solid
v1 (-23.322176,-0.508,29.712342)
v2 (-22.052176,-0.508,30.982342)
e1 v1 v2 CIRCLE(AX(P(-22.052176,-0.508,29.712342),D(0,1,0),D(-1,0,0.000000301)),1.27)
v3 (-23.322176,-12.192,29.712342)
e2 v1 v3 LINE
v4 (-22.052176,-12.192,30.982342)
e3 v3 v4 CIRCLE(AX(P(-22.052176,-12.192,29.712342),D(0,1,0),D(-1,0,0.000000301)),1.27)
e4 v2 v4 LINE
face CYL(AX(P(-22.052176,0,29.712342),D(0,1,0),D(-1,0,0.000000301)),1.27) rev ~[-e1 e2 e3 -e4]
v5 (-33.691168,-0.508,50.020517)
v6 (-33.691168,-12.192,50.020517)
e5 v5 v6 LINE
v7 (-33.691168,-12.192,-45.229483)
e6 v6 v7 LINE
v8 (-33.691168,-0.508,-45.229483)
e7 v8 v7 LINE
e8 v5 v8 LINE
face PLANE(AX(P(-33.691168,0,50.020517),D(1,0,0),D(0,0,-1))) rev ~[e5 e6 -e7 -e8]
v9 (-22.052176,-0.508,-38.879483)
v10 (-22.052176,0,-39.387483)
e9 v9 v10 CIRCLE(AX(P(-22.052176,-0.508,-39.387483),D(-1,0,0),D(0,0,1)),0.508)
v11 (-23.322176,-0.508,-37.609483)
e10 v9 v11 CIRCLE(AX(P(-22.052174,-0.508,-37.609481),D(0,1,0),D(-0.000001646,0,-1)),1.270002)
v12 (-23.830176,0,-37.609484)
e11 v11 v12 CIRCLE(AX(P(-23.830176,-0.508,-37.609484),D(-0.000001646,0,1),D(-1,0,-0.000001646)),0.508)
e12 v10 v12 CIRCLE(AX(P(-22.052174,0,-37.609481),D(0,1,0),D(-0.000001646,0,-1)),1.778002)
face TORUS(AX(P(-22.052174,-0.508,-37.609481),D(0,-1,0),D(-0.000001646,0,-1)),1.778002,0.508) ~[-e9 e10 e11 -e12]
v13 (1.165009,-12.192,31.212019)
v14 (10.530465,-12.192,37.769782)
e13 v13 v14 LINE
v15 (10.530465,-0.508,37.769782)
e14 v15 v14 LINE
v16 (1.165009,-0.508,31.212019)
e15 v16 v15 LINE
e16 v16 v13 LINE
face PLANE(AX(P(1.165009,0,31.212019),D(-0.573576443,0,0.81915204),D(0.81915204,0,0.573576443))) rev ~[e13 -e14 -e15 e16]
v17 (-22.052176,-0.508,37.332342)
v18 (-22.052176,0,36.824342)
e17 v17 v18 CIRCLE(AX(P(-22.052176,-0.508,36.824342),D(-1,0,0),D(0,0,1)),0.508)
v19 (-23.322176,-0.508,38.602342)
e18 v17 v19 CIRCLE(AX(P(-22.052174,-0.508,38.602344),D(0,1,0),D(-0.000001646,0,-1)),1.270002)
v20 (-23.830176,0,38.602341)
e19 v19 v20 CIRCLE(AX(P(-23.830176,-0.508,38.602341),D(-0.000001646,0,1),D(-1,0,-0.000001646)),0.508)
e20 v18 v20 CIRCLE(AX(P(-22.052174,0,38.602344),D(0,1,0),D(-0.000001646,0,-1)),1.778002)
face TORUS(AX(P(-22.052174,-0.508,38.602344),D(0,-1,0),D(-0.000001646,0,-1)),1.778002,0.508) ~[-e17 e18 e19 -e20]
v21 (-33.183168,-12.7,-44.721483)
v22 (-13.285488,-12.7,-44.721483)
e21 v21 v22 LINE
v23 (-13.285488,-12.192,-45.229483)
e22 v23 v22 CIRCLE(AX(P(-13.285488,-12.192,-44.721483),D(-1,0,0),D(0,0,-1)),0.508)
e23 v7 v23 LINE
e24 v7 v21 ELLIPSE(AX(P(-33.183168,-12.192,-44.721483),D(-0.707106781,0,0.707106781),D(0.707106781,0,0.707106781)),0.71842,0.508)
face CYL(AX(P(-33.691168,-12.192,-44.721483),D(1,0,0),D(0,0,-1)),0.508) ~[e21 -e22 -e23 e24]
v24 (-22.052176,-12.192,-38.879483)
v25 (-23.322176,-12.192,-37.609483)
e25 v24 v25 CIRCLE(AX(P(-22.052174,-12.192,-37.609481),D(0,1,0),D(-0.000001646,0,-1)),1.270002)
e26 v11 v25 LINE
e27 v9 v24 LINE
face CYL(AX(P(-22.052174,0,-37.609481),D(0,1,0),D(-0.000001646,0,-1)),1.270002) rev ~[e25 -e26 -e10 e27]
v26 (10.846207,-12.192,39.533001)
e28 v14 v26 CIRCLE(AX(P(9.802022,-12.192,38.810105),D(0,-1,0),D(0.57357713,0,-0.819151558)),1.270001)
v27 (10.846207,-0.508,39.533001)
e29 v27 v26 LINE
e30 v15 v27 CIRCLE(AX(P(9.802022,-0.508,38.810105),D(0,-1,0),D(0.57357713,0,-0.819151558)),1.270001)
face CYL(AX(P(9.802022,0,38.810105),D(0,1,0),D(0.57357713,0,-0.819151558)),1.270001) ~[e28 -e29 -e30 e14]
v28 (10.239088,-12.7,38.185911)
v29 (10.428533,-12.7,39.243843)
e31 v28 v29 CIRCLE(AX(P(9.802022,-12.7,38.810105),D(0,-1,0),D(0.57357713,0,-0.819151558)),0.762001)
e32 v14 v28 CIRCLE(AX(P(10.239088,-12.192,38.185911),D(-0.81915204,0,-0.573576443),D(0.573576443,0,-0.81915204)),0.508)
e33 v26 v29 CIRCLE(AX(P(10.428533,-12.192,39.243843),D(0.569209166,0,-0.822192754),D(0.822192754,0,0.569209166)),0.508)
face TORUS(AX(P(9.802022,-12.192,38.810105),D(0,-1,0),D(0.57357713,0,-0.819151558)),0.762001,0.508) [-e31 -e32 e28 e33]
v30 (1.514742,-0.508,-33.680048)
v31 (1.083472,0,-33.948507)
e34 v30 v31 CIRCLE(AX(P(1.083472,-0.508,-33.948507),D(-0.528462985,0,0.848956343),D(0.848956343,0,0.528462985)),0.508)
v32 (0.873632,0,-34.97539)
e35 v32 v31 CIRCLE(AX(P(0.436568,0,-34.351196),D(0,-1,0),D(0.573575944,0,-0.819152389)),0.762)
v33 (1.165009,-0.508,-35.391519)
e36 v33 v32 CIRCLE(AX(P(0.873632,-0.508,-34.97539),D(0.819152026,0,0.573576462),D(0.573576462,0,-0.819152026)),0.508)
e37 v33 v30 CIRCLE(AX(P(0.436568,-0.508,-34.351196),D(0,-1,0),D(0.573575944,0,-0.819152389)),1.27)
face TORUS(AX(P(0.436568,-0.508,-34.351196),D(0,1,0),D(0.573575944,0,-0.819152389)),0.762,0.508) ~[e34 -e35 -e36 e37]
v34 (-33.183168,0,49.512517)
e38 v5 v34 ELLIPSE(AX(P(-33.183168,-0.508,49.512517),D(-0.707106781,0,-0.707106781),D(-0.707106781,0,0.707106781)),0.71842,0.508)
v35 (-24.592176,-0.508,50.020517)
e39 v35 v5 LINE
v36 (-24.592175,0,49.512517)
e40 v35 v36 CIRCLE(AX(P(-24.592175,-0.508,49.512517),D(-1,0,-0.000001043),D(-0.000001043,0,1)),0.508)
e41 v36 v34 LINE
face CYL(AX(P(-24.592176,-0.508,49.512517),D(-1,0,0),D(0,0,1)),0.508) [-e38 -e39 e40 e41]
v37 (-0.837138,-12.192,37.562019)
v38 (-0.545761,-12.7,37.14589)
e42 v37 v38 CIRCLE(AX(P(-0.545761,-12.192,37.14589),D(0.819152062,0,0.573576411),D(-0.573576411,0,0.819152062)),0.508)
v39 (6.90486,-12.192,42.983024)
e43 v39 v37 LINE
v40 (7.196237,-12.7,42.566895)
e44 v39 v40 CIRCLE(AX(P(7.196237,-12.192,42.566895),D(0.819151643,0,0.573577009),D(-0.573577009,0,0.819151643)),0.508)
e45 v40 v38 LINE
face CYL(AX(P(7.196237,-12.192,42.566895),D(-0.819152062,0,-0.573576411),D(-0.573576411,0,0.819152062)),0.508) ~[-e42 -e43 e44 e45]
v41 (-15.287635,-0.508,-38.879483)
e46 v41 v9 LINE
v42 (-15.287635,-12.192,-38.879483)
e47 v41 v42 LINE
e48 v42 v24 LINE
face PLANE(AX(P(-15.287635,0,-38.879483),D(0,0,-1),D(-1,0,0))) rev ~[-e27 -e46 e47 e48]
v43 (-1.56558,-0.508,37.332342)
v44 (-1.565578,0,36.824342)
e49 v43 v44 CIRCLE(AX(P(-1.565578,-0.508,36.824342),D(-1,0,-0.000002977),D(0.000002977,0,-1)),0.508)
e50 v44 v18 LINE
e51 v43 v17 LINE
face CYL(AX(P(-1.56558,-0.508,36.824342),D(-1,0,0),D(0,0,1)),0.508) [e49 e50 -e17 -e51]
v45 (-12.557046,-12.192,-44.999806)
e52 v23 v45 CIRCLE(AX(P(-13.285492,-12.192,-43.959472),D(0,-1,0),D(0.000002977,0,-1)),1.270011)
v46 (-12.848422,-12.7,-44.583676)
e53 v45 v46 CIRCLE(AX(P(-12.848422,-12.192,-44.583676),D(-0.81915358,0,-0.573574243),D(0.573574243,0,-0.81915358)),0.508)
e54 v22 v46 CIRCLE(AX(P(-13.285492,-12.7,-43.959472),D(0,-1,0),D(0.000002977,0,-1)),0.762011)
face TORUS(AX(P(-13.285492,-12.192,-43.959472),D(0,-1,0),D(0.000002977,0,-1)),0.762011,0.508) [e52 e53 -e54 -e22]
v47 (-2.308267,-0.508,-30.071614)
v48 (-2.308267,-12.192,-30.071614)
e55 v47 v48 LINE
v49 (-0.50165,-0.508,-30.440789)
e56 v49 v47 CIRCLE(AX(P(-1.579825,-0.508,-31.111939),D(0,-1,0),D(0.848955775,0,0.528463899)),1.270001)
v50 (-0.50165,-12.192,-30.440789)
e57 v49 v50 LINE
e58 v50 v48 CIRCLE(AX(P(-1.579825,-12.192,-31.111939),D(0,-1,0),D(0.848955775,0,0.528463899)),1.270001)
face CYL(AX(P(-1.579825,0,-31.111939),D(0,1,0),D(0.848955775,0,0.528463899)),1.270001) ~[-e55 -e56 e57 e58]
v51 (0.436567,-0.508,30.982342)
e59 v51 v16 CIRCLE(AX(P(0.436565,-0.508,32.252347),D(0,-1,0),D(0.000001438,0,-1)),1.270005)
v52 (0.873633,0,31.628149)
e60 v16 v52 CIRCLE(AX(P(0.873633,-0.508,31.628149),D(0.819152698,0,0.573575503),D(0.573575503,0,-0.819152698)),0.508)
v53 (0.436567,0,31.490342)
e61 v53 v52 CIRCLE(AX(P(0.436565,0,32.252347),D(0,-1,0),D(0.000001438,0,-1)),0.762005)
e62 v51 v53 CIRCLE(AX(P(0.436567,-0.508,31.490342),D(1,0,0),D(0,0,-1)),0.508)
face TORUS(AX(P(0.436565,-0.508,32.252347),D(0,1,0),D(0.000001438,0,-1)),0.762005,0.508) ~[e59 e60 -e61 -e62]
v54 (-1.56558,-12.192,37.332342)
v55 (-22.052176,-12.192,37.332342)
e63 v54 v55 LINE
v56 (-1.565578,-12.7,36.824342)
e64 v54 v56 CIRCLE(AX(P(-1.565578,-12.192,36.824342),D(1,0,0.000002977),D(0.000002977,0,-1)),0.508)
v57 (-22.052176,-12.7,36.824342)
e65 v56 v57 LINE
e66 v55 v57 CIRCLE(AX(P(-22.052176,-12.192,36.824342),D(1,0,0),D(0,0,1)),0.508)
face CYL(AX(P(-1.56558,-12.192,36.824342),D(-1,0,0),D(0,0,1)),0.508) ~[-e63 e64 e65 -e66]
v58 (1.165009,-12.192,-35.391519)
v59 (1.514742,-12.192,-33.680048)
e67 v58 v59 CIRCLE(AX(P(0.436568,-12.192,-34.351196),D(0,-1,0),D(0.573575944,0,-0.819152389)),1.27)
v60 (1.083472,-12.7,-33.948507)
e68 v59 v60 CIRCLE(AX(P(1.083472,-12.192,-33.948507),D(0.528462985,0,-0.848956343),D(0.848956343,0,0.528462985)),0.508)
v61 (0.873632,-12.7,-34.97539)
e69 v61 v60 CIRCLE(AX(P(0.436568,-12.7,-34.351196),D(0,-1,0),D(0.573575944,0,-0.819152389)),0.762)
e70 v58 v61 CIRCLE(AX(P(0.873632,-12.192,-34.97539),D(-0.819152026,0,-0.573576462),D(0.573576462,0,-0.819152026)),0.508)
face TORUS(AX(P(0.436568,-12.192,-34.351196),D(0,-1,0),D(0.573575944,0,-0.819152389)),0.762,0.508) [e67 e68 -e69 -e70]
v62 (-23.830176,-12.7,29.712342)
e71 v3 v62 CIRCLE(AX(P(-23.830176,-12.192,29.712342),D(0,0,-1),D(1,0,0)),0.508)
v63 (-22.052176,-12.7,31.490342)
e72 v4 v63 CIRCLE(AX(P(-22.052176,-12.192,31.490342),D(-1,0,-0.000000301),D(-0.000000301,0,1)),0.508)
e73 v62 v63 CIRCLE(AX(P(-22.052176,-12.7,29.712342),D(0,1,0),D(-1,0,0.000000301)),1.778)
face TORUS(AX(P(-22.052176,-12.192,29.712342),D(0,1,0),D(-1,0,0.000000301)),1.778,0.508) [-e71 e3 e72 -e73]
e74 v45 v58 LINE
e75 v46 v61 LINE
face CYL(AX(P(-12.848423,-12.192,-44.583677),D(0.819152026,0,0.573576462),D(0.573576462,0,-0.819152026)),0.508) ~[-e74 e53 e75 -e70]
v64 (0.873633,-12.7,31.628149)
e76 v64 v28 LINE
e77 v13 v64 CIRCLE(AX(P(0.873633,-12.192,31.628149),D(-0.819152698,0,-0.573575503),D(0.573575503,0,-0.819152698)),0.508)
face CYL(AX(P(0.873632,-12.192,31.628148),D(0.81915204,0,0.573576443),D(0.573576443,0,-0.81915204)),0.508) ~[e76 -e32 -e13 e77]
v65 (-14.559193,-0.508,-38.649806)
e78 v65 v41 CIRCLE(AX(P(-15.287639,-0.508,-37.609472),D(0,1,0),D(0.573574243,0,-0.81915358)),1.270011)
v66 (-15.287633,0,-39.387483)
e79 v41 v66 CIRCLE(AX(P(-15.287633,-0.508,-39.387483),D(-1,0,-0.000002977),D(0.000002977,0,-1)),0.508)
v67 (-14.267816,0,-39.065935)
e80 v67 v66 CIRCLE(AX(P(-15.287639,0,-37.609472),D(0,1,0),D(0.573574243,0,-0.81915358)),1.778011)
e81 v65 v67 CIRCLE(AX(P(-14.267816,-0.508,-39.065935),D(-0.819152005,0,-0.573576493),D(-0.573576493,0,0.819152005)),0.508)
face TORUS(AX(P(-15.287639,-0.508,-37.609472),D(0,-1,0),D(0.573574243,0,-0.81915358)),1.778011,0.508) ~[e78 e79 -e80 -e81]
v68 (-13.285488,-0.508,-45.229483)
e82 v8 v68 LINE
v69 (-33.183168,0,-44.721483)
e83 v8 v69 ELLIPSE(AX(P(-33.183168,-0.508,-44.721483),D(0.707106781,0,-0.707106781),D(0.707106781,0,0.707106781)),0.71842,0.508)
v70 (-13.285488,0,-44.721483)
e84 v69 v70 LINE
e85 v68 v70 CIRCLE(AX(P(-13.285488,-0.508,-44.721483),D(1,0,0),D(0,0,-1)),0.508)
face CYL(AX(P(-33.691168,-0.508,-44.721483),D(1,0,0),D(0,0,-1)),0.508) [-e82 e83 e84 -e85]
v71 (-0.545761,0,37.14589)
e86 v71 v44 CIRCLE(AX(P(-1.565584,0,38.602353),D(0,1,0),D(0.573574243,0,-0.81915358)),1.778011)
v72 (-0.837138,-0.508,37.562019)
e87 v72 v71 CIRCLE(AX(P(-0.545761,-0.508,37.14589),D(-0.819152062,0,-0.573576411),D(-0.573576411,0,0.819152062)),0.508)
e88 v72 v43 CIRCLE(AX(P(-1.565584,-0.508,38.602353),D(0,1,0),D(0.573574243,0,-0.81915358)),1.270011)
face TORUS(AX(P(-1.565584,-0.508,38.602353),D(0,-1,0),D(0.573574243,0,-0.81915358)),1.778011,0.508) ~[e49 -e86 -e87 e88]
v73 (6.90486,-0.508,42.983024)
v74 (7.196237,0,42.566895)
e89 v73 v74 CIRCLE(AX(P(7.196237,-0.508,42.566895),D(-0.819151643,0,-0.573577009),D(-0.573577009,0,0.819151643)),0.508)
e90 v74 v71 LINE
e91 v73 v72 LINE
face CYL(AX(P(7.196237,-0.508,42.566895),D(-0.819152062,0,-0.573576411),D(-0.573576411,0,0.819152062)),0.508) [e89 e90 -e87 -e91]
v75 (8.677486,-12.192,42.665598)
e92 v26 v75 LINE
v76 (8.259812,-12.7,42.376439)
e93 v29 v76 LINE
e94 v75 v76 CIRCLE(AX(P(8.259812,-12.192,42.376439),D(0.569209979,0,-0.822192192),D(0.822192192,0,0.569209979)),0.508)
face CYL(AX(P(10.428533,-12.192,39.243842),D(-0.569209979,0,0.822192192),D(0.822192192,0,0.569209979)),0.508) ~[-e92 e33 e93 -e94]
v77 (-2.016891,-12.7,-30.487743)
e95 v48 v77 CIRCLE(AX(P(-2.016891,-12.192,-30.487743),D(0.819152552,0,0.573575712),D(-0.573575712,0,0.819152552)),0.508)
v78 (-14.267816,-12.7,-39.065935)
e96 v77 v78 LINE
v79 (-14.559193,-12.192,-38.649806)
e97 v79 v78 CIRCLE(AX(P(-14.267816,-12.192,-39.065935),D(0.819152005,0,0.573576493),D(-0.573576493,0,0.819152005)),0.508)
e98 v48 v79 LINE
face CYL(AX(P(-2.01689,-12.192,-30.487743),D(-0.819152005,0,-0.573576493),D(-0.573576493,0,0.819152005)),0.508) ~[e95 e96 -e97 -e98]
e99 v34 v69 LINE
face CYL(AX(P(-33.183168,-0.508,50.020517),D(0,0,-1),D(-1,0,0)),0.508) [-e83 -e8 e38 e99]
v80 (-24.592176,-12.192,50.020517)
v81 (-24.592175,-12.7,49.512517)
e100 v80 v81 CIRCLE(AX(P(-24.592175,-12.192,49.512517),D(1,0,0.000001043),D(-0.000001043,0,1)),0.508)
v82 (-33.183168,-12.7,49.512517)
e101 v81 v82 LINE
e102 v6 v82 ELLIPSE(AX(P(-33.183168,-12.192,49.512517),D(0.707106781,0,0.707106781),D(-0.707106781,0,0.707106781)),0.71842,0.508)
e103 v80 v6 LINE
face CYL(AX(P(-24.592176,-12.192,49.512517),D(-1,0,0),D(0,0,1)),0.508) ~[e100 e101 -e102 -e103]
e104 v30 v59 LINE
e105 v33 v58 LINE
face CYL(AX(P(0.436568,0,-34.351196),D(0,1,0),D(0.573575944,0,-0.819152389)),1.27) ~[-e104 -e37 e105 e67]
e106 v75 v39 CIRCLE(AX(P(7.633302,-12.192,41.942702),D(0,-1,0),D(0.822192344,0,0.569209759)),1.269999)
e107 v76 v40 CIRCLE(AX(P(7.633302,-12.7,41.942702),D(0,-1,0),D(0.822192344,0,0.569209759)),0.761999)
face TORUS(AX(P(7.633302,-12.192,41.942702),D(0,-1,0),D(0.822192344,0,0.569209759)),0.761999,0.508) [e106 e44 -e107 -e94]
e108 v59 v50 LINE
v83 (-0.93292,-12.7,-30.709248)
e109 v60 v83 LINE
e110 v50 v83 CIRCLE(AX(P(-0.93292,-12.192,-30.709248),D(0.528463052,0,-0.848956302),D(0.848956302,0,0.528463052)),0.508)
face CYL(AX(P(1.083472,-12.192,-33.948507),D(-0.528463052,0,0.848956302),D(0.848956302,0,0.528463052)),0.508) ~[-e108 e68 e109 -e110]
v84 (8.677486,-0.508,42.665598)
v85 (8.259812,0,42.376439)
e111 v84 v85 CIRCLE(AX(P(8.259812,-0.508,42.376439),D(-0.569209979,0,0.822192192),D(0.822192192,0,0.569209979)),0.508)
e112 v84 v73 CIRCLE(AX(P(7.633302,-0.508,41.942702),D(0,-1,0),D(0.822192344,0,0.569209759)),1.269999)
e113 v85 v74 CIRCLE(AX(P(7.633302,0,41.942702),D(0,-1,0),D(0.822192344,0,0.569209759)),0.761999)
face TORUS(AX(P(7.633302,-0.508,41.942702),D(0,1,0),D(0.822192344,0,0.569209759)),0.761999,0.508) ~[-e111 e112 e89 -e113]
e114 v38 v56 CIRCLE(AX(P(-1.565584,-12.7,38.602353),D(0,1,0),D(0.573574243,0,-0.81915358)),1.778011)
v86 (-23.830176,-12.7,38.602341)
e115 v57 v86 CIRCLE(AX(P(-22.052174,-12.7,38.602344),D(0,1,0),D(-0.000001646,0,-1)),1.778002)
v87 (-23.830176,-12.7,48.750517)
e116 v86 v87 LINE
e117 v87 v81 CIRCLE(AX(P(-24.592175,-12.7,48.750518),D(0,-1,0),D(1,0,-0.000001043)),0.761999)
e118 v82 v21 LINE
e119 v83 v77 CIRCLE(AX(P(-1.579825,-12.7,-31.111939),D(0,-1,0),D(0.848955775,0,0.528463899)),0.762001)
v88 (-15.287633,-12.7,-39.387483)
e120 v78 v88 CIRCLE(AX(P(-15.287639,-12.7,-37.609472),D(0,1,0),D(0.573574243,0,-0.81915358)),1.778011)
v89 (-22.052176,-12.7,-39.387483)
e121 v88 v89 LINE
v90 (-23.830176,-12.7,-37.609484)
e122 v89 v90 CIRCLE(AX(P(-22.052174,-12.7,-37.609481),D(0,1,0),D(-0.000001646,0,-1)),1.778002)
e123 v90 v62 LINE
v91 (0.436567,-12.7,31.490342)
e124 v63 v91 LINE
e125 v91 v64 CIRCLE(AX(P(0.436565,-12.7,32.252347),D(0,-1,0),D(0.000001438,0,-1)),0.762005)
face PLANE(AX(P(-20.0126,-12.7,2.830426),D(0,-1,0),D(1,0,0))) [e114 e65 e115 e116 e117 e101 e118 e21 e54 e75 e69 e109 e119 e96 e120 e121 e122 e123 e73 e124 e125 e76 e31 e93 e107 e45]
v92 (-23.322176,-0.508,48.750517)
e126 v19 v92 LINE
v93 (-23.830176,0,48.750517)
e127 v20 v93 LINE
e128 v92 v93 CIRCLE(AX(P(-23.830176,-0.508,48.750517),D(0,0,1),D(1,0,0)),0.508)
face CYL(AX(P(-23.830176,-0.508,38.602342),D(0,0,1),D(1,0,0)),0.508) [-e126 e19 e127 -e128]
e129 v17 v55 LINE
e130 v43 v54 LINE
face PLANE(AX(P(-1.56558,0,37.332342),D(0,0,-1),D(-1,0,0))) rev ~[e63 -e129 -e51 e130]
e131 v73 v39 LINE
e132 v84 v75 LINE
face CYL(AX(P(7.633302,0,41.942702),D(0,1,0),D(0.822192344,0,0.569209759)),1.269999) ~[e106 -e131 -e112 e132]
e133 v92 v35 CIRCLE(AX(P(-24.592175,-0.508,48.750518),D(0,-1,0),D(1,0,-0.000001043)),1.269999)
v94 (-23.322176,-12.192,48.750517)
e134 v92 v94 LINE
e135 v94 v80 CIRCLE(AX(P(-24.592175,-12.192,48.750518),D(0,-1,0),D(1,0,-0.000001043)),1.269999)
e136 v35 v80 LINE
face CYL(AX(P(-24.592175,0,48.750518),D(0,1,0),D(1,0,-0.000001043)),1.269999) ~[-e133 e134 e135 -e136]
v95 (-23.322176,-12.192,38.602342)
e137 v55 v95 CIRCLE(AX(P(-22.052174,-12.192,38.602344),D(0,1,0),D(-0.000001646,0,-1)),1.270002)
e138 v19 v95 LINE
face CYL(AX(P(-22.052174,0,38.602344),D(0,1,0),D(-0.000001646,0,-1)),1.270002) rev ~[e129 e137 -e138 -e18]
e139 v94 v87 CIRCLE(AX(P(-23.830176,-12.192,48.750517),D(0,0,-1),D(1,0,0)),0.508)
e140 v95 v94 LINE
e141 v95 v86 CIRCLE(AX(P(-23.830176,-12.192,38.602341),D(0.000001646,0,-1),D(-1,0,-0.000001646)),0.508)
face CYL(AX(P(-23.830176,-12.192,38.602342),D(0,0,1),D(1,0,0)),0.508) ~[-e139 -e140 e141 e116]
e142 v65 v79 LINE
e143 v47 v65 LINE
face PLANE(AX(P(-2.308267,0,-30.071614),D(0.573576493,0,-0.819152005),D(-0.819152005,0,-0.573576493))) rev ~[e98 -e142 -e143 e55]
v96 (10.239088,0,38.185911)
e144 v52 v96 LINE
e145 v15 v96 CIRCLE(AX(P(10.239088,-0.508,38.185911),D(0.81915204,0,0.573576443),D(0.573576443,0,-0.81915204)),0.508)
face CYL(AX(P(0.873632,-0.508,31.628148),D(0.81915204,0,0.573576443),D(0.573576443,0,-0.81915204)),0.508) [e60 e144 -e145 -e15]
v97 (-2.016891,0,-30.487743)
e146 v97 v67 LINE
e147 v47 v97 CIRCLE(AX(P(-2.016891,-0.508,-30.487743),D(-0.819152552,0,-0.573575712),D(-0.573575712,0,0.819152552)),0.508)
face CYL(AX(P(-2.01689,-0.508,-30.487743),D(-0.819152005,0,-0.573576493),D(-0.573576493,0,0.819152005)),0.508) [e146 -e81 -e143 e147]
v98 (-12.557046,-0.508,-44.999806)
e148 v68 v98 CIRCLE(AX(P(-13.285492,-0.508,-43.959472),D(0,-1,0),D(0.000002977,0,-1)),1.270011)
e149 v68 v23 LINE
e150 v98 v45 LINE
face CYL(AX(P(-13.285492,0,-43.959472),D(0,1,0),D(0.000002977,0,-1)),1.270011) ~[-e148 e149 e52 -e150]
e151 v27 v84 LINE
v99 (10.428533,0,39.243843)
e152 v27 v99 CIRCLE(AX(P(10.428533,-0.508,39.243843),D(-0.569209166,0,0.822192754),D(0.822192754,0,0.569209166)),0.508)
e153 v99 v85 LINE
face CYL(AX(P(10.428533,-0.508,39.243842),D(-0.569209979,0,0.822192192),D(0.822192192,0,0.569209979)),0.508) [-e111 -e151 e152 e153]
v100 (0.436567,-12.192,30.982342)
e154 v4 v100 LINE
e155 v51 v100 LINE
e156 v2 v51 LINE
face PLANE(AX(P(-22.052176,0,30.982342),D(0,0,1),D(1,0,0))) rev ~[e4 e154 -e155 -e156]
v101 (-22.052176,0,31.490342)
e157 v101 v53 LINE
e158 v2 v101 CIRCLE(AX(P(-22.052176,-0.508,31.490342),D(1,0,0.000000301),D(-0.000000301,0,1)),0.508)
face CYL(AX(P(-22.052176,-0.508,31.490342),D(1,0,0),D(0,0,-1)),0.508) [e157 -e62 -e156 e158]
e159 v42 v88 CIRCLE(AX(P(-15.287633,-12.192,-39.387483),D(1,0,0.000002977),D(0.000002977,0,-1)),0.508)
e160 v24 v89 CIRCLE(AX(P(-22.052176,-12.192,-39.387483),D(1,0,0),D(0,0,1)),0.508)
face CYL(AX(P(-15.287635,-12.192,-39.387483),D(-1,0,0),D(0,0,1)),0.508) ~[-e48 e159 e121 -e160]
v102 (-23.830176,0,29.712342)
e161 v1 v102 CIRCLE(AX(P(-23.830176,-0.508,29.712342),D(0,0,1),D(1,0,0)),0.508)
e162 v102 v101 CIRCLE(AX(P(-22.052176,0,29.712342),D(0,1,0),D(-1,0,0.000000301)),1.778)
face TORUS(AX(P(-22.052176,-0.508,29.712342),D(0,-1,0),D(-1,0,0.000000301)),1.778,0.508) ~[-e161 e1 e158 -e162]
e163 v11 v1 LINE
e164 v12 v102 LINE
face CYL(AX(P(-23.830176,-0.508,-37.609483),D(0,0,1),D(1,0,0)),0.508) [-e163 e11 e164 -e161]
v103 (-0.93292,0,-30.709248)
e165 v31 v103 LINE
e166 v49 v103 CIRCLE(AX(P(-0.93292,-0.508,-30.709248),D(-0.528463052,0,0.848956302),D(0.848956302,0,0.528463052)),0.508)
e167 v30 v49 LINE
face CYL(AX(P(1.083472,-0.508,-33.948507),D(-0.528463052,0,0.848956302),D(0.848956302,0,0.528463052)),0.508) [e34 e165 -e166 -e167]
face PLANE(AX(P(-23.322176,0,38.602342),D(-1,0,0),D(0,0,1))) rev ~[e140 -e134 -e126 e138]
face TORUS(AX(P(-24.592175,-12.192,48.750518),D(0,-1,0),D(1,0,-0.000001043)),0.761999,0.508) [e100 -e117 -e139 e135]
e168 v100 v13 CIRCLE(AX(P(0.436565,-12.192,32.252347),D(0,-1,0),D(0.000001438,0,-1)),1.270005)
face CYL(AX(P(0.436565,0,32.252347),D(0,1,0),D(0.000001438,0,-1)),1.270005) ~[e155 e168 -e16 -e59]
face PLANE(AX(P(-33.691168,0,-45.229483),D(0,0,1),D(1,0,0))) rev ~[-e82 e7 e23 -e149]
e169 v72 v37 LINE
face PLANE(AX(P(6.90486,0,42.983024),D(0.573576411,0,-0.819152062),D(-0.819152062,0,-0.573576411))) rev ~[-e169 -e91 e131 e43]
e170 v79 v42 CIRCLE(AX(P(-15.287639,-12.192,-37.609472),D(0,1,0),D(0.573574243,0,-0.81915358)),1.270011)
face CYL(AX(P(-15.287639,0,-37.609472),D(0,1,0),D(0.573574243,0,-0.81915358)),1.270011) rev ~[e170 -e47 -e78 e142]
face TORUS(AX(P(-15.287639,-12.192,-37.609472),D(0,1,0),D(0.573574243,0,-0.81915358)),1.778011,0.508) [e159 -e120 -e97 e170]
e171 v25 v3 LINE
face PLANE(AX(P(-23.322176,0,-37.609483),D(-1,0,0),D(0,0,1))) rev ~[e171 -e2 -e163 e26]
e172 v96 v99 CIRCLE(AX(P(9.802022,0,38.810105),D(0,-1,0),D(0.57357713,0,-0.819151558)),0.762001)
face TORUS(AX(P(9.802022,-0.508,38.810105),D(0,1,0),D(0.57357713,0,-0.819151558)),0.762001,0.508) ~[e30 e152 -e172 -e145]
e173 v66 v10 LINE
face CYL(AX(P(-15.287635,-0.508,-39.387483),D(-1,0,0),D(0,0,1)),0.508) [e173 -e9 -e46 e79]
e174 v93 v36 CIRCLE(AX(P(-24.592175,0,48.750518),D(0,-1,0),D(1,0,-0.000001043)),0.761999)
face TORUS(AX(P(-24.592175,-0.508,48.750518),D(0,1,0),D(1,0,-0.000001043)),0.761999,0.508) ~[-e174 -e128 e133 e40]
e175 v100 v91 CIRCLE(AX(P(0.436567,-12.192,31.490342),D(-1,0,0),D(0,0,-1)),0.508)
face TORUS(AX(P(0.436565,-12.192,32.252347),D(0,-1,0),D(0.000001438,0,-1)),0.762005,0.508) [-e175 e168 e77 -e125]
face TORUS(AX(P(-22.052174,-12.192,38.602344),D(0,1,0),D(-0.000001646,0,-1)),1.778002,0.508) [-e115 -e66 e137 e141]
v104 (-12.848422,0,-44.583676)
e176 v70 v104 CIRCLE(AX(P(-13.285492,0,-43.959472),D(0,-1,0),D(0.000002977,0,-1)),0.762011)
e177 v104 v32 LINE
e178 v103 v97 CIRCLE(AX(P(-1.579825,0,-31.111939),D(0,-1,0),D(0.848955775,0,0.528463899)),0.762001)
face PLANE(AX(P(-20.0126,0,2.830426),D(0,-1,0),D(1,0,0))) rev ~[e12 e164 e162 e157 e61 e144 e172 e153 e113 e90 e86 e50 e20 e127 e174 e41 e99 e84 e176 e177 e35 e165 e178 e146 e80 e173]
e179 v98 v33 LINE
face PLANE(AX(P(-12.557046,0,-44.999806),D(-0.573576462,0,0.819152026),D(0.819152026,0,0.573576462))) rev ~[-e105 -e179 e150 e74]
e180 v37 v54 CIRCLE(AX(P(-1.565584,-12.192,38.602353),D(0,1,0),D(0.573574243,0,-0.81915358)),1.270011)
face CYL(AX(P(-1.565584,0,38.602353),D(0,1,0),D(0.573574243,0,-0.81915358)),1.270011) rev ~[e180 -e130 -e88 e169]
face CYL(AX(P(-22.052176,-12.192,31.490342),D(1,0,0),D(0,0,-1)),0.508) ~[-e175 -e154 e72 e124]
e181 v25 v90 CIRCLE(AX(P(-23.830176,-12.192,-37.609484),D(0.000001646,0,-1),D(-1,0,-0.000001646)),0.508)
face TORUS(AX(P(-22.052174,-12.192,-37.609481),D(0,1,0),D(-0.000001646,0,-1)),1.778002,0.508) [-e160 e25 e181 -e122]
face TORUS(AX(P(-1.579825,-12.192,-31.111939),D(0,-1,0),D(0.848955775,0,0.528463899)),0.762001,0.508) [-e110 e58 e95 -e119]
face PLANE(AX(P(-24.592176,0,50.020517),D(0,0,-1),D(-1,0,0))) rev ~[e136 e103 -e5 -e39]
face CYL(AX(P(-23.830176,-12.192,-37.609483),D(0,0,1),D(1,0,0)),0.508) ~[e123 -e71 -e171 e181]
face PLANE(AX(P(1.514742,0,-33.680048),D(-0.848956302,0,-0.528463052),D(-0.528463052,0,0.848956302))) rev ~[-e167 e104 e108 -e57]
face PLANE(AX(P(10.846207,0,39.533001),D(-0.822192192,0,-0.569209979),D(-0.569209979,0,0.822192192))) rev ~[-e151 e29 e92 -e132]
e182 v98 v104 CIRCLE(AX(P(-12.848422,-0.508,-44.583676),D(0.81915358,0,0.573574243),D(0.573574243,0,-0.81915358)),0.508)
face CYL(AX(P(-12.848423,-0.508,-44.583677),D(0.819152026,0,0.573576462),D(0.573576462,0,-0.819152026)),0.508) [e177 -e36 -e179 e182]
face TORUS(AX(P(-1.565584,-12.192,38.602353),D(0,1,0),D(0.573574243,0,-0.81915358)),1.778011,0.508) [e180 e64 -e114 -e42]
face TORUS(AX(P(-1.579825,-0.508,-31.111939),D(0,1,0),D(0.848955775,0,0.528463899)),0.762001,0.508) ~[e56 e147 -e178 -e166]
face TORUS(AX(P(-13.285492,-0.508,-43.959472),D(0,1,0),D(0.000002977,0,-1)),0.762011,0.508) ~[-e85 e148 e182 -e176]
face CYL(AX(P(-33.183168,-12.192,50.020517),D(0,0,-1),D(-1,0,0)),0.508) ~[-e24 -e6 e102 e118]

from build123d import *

# Parameters (mm, degrees)
F1_DEPTH = 12.7
F2_R     = 0.508


with BuildPart() as f1:
    # F0 (on Front) → F1 (new body)
    with BuildSketch(Plane.XZ):
        with BuildLine():
            Line((-24.592176, 50.020517), (-33.691168, 50.020517))
            Line((-33.691168, 50.020517), (-33.691168, -38.879483))
            Line((-33.691168, -38.879483), (-33.691168, -45.229483))
            Line((-33.691168, -45.229483), (-23.321956, -45.229483))
            Line((-23.321956, -45.229483), (-13.285488, -45.229483))
            ThreePointArc((-13.285488, -45.229483), (-12.903592, -45.170703), (-12.557046, -44.999806))
            Line((-12.557046, -44.999806), (1.165009, -35.391519))
            ThreePointArc((1.165009, -35.391519), (1.680854, -34.605461), (1.514742, -33.680048))
            Line((1.514742, -33.680048), (-0.50165, -30.440789))
            ThreePointArc((-0.50165, -30.440789), (-1.325559, -29.867651), (-2.308267, -30.071614))
            Line((-2.308267, -30.071614), (-14.559193, -38.649806))
            ThreePointArc((-14.559193, -38.649806), (-14.905739, -38.820703), (-15.287635, -38.879483))
            Line((-15.287635, -38.879483), (-22.052176, -38.879483))
            ThreePointArc((-22.052176, -38.879483), (-22.950201, -38.507508), (-23.322176, -37.609483))
            Line((-23.322176, -37.609483), (-23.322176, 29.712342))
            ThreePointArc((-23.322176, 29.712342), (-22.950201, 30.610368), (-22.052176, 30.982342))
            Line((-22.052176, 30.982342), (0.436567, 30.982342))
            ThreePointArc((0.436567, 30.982342), (0.818464, 31.041122), (1.165009, 31.212019))
            Line((1.165009, 31.212019), (10.530465, 37.769782))
            ThreePointArc((10.530465, 37.769782), (11.052137, 38.586245), (10.846207, 39.533001))
            Line((10.846207, 39.533001), (8.677486, 42.665598))
            ThreePointArc((8.677486, 42.665598), (7.857162, 43.192816), (6.90486, 42.983024))
            Line((6.90486, 42.983024), (-0.837138, 37.562019))
            ThreePointArc((-0.837138, 37.562019), (-1.183684, 37.391122), (-1.56558, 37.332342))
            Line((-1.56558, 37.332342), (-22.052176, 37.332342))
            ThreePointArc((-22.052176, 37.332342), (-22.950201, 37.704317), (-23.322176, 38.602342))
            Line((-23.322176, 38.602342), (-23.322176, 48.750517))
            ThreePointArc((-23.322176, 48.750517), (-23.69415, 49.648543), (-24.592176, 50.020517))
        make_face()
    extrude(amount=F1_DEPTH)

    # F2
    f2_edges = [f1.edges().sort_by_distance(p)[0] for p in [
        (-1.183684, -12.7, 37.391122),
        (-11.808878, -12.7, 37.332342),
        (-22.950201, -12.7, 37.704317),
        (-23.322176, -12.7, 43.67643),
        (-23.69415, -12.7, 49.648543),
        (-29.141672, -12.7, 50.020517),
        (-33.691168, -12.7, 2.395517),
        (-23.488328, -12.7, -45.229483),
        (-12.903592, -12.7, -45.170703),
        (-5.696018, -12.7, -40.195662),
        (1.680854, -12.7, -34.605461),
        (0.506546, -12.7, -32.060419),
        (-1.325559, -12.7, -29.867651),
        (-8.43373, -12.7, -34.36071),
        (-14.905739, -12.7, -38.820703),
        (-18.669906, -12.7, -38.879483),
        (-22.950201, -12.7, -38.507508),
        (-23.322176, -12.7, -3.94857),
        (-22.950201, -12.7, 30.610368),
        (-10.807804, -12.7, 30.982342),
        (0.818464, -12.7, 31.041122),
        (5.847737, -12.7, 34.4909),
        (11.052137, -12.7, 38.586245),
        (9.761846, -12.7, 41.0993),
        (7.857162, -12.7, 43.192816),
        (3.033861, -12.7, 40.272522),
        (-1.183684, 0, 37.391122),
        (-11.808878, 0, 37.332342),
        (-22.950201, 0, 37.704317),
        (-23.322176, 0, 43.67643),
        (-23.69415, 0, 49.648543),
        (-29.141672, 0, 50.020517),
        (-33.691168, 0, 2.395517),
        (-23.488328, 0, -45.229483),
        (-12.903592, 0, -45.170703),
        (-5.696018, 0, -40.195662),
        (1.680854, 0, -34.605461),
        (0.506546, 0, -32.060419),
        (-1.325559, 0, -29.867651),
        (-8.43373, 0, -34.36071),
        (-14.905739, 0, -38.820703),
        (-18.669906, 0, -38.879483),
        (-22.950201, 0, -38.507508),
        (-23.322176, 0, -3.94857),
        (-22.950201, 0, 30.610368),
        (-10.807804, 0, 30.982342),
        (0.818464, 0, 31.041122),
        (5.847737, 0, 34.4909),
        (11.052137, 0, 38.586245),
        (9.761846, 0, 41.0993),
        (7.857162, 0, 43.192816),
        (3.033861, 0, 40.272522),
    ]]
    fillet(f2_edges, radius=F2_R)


solid = f1.part
